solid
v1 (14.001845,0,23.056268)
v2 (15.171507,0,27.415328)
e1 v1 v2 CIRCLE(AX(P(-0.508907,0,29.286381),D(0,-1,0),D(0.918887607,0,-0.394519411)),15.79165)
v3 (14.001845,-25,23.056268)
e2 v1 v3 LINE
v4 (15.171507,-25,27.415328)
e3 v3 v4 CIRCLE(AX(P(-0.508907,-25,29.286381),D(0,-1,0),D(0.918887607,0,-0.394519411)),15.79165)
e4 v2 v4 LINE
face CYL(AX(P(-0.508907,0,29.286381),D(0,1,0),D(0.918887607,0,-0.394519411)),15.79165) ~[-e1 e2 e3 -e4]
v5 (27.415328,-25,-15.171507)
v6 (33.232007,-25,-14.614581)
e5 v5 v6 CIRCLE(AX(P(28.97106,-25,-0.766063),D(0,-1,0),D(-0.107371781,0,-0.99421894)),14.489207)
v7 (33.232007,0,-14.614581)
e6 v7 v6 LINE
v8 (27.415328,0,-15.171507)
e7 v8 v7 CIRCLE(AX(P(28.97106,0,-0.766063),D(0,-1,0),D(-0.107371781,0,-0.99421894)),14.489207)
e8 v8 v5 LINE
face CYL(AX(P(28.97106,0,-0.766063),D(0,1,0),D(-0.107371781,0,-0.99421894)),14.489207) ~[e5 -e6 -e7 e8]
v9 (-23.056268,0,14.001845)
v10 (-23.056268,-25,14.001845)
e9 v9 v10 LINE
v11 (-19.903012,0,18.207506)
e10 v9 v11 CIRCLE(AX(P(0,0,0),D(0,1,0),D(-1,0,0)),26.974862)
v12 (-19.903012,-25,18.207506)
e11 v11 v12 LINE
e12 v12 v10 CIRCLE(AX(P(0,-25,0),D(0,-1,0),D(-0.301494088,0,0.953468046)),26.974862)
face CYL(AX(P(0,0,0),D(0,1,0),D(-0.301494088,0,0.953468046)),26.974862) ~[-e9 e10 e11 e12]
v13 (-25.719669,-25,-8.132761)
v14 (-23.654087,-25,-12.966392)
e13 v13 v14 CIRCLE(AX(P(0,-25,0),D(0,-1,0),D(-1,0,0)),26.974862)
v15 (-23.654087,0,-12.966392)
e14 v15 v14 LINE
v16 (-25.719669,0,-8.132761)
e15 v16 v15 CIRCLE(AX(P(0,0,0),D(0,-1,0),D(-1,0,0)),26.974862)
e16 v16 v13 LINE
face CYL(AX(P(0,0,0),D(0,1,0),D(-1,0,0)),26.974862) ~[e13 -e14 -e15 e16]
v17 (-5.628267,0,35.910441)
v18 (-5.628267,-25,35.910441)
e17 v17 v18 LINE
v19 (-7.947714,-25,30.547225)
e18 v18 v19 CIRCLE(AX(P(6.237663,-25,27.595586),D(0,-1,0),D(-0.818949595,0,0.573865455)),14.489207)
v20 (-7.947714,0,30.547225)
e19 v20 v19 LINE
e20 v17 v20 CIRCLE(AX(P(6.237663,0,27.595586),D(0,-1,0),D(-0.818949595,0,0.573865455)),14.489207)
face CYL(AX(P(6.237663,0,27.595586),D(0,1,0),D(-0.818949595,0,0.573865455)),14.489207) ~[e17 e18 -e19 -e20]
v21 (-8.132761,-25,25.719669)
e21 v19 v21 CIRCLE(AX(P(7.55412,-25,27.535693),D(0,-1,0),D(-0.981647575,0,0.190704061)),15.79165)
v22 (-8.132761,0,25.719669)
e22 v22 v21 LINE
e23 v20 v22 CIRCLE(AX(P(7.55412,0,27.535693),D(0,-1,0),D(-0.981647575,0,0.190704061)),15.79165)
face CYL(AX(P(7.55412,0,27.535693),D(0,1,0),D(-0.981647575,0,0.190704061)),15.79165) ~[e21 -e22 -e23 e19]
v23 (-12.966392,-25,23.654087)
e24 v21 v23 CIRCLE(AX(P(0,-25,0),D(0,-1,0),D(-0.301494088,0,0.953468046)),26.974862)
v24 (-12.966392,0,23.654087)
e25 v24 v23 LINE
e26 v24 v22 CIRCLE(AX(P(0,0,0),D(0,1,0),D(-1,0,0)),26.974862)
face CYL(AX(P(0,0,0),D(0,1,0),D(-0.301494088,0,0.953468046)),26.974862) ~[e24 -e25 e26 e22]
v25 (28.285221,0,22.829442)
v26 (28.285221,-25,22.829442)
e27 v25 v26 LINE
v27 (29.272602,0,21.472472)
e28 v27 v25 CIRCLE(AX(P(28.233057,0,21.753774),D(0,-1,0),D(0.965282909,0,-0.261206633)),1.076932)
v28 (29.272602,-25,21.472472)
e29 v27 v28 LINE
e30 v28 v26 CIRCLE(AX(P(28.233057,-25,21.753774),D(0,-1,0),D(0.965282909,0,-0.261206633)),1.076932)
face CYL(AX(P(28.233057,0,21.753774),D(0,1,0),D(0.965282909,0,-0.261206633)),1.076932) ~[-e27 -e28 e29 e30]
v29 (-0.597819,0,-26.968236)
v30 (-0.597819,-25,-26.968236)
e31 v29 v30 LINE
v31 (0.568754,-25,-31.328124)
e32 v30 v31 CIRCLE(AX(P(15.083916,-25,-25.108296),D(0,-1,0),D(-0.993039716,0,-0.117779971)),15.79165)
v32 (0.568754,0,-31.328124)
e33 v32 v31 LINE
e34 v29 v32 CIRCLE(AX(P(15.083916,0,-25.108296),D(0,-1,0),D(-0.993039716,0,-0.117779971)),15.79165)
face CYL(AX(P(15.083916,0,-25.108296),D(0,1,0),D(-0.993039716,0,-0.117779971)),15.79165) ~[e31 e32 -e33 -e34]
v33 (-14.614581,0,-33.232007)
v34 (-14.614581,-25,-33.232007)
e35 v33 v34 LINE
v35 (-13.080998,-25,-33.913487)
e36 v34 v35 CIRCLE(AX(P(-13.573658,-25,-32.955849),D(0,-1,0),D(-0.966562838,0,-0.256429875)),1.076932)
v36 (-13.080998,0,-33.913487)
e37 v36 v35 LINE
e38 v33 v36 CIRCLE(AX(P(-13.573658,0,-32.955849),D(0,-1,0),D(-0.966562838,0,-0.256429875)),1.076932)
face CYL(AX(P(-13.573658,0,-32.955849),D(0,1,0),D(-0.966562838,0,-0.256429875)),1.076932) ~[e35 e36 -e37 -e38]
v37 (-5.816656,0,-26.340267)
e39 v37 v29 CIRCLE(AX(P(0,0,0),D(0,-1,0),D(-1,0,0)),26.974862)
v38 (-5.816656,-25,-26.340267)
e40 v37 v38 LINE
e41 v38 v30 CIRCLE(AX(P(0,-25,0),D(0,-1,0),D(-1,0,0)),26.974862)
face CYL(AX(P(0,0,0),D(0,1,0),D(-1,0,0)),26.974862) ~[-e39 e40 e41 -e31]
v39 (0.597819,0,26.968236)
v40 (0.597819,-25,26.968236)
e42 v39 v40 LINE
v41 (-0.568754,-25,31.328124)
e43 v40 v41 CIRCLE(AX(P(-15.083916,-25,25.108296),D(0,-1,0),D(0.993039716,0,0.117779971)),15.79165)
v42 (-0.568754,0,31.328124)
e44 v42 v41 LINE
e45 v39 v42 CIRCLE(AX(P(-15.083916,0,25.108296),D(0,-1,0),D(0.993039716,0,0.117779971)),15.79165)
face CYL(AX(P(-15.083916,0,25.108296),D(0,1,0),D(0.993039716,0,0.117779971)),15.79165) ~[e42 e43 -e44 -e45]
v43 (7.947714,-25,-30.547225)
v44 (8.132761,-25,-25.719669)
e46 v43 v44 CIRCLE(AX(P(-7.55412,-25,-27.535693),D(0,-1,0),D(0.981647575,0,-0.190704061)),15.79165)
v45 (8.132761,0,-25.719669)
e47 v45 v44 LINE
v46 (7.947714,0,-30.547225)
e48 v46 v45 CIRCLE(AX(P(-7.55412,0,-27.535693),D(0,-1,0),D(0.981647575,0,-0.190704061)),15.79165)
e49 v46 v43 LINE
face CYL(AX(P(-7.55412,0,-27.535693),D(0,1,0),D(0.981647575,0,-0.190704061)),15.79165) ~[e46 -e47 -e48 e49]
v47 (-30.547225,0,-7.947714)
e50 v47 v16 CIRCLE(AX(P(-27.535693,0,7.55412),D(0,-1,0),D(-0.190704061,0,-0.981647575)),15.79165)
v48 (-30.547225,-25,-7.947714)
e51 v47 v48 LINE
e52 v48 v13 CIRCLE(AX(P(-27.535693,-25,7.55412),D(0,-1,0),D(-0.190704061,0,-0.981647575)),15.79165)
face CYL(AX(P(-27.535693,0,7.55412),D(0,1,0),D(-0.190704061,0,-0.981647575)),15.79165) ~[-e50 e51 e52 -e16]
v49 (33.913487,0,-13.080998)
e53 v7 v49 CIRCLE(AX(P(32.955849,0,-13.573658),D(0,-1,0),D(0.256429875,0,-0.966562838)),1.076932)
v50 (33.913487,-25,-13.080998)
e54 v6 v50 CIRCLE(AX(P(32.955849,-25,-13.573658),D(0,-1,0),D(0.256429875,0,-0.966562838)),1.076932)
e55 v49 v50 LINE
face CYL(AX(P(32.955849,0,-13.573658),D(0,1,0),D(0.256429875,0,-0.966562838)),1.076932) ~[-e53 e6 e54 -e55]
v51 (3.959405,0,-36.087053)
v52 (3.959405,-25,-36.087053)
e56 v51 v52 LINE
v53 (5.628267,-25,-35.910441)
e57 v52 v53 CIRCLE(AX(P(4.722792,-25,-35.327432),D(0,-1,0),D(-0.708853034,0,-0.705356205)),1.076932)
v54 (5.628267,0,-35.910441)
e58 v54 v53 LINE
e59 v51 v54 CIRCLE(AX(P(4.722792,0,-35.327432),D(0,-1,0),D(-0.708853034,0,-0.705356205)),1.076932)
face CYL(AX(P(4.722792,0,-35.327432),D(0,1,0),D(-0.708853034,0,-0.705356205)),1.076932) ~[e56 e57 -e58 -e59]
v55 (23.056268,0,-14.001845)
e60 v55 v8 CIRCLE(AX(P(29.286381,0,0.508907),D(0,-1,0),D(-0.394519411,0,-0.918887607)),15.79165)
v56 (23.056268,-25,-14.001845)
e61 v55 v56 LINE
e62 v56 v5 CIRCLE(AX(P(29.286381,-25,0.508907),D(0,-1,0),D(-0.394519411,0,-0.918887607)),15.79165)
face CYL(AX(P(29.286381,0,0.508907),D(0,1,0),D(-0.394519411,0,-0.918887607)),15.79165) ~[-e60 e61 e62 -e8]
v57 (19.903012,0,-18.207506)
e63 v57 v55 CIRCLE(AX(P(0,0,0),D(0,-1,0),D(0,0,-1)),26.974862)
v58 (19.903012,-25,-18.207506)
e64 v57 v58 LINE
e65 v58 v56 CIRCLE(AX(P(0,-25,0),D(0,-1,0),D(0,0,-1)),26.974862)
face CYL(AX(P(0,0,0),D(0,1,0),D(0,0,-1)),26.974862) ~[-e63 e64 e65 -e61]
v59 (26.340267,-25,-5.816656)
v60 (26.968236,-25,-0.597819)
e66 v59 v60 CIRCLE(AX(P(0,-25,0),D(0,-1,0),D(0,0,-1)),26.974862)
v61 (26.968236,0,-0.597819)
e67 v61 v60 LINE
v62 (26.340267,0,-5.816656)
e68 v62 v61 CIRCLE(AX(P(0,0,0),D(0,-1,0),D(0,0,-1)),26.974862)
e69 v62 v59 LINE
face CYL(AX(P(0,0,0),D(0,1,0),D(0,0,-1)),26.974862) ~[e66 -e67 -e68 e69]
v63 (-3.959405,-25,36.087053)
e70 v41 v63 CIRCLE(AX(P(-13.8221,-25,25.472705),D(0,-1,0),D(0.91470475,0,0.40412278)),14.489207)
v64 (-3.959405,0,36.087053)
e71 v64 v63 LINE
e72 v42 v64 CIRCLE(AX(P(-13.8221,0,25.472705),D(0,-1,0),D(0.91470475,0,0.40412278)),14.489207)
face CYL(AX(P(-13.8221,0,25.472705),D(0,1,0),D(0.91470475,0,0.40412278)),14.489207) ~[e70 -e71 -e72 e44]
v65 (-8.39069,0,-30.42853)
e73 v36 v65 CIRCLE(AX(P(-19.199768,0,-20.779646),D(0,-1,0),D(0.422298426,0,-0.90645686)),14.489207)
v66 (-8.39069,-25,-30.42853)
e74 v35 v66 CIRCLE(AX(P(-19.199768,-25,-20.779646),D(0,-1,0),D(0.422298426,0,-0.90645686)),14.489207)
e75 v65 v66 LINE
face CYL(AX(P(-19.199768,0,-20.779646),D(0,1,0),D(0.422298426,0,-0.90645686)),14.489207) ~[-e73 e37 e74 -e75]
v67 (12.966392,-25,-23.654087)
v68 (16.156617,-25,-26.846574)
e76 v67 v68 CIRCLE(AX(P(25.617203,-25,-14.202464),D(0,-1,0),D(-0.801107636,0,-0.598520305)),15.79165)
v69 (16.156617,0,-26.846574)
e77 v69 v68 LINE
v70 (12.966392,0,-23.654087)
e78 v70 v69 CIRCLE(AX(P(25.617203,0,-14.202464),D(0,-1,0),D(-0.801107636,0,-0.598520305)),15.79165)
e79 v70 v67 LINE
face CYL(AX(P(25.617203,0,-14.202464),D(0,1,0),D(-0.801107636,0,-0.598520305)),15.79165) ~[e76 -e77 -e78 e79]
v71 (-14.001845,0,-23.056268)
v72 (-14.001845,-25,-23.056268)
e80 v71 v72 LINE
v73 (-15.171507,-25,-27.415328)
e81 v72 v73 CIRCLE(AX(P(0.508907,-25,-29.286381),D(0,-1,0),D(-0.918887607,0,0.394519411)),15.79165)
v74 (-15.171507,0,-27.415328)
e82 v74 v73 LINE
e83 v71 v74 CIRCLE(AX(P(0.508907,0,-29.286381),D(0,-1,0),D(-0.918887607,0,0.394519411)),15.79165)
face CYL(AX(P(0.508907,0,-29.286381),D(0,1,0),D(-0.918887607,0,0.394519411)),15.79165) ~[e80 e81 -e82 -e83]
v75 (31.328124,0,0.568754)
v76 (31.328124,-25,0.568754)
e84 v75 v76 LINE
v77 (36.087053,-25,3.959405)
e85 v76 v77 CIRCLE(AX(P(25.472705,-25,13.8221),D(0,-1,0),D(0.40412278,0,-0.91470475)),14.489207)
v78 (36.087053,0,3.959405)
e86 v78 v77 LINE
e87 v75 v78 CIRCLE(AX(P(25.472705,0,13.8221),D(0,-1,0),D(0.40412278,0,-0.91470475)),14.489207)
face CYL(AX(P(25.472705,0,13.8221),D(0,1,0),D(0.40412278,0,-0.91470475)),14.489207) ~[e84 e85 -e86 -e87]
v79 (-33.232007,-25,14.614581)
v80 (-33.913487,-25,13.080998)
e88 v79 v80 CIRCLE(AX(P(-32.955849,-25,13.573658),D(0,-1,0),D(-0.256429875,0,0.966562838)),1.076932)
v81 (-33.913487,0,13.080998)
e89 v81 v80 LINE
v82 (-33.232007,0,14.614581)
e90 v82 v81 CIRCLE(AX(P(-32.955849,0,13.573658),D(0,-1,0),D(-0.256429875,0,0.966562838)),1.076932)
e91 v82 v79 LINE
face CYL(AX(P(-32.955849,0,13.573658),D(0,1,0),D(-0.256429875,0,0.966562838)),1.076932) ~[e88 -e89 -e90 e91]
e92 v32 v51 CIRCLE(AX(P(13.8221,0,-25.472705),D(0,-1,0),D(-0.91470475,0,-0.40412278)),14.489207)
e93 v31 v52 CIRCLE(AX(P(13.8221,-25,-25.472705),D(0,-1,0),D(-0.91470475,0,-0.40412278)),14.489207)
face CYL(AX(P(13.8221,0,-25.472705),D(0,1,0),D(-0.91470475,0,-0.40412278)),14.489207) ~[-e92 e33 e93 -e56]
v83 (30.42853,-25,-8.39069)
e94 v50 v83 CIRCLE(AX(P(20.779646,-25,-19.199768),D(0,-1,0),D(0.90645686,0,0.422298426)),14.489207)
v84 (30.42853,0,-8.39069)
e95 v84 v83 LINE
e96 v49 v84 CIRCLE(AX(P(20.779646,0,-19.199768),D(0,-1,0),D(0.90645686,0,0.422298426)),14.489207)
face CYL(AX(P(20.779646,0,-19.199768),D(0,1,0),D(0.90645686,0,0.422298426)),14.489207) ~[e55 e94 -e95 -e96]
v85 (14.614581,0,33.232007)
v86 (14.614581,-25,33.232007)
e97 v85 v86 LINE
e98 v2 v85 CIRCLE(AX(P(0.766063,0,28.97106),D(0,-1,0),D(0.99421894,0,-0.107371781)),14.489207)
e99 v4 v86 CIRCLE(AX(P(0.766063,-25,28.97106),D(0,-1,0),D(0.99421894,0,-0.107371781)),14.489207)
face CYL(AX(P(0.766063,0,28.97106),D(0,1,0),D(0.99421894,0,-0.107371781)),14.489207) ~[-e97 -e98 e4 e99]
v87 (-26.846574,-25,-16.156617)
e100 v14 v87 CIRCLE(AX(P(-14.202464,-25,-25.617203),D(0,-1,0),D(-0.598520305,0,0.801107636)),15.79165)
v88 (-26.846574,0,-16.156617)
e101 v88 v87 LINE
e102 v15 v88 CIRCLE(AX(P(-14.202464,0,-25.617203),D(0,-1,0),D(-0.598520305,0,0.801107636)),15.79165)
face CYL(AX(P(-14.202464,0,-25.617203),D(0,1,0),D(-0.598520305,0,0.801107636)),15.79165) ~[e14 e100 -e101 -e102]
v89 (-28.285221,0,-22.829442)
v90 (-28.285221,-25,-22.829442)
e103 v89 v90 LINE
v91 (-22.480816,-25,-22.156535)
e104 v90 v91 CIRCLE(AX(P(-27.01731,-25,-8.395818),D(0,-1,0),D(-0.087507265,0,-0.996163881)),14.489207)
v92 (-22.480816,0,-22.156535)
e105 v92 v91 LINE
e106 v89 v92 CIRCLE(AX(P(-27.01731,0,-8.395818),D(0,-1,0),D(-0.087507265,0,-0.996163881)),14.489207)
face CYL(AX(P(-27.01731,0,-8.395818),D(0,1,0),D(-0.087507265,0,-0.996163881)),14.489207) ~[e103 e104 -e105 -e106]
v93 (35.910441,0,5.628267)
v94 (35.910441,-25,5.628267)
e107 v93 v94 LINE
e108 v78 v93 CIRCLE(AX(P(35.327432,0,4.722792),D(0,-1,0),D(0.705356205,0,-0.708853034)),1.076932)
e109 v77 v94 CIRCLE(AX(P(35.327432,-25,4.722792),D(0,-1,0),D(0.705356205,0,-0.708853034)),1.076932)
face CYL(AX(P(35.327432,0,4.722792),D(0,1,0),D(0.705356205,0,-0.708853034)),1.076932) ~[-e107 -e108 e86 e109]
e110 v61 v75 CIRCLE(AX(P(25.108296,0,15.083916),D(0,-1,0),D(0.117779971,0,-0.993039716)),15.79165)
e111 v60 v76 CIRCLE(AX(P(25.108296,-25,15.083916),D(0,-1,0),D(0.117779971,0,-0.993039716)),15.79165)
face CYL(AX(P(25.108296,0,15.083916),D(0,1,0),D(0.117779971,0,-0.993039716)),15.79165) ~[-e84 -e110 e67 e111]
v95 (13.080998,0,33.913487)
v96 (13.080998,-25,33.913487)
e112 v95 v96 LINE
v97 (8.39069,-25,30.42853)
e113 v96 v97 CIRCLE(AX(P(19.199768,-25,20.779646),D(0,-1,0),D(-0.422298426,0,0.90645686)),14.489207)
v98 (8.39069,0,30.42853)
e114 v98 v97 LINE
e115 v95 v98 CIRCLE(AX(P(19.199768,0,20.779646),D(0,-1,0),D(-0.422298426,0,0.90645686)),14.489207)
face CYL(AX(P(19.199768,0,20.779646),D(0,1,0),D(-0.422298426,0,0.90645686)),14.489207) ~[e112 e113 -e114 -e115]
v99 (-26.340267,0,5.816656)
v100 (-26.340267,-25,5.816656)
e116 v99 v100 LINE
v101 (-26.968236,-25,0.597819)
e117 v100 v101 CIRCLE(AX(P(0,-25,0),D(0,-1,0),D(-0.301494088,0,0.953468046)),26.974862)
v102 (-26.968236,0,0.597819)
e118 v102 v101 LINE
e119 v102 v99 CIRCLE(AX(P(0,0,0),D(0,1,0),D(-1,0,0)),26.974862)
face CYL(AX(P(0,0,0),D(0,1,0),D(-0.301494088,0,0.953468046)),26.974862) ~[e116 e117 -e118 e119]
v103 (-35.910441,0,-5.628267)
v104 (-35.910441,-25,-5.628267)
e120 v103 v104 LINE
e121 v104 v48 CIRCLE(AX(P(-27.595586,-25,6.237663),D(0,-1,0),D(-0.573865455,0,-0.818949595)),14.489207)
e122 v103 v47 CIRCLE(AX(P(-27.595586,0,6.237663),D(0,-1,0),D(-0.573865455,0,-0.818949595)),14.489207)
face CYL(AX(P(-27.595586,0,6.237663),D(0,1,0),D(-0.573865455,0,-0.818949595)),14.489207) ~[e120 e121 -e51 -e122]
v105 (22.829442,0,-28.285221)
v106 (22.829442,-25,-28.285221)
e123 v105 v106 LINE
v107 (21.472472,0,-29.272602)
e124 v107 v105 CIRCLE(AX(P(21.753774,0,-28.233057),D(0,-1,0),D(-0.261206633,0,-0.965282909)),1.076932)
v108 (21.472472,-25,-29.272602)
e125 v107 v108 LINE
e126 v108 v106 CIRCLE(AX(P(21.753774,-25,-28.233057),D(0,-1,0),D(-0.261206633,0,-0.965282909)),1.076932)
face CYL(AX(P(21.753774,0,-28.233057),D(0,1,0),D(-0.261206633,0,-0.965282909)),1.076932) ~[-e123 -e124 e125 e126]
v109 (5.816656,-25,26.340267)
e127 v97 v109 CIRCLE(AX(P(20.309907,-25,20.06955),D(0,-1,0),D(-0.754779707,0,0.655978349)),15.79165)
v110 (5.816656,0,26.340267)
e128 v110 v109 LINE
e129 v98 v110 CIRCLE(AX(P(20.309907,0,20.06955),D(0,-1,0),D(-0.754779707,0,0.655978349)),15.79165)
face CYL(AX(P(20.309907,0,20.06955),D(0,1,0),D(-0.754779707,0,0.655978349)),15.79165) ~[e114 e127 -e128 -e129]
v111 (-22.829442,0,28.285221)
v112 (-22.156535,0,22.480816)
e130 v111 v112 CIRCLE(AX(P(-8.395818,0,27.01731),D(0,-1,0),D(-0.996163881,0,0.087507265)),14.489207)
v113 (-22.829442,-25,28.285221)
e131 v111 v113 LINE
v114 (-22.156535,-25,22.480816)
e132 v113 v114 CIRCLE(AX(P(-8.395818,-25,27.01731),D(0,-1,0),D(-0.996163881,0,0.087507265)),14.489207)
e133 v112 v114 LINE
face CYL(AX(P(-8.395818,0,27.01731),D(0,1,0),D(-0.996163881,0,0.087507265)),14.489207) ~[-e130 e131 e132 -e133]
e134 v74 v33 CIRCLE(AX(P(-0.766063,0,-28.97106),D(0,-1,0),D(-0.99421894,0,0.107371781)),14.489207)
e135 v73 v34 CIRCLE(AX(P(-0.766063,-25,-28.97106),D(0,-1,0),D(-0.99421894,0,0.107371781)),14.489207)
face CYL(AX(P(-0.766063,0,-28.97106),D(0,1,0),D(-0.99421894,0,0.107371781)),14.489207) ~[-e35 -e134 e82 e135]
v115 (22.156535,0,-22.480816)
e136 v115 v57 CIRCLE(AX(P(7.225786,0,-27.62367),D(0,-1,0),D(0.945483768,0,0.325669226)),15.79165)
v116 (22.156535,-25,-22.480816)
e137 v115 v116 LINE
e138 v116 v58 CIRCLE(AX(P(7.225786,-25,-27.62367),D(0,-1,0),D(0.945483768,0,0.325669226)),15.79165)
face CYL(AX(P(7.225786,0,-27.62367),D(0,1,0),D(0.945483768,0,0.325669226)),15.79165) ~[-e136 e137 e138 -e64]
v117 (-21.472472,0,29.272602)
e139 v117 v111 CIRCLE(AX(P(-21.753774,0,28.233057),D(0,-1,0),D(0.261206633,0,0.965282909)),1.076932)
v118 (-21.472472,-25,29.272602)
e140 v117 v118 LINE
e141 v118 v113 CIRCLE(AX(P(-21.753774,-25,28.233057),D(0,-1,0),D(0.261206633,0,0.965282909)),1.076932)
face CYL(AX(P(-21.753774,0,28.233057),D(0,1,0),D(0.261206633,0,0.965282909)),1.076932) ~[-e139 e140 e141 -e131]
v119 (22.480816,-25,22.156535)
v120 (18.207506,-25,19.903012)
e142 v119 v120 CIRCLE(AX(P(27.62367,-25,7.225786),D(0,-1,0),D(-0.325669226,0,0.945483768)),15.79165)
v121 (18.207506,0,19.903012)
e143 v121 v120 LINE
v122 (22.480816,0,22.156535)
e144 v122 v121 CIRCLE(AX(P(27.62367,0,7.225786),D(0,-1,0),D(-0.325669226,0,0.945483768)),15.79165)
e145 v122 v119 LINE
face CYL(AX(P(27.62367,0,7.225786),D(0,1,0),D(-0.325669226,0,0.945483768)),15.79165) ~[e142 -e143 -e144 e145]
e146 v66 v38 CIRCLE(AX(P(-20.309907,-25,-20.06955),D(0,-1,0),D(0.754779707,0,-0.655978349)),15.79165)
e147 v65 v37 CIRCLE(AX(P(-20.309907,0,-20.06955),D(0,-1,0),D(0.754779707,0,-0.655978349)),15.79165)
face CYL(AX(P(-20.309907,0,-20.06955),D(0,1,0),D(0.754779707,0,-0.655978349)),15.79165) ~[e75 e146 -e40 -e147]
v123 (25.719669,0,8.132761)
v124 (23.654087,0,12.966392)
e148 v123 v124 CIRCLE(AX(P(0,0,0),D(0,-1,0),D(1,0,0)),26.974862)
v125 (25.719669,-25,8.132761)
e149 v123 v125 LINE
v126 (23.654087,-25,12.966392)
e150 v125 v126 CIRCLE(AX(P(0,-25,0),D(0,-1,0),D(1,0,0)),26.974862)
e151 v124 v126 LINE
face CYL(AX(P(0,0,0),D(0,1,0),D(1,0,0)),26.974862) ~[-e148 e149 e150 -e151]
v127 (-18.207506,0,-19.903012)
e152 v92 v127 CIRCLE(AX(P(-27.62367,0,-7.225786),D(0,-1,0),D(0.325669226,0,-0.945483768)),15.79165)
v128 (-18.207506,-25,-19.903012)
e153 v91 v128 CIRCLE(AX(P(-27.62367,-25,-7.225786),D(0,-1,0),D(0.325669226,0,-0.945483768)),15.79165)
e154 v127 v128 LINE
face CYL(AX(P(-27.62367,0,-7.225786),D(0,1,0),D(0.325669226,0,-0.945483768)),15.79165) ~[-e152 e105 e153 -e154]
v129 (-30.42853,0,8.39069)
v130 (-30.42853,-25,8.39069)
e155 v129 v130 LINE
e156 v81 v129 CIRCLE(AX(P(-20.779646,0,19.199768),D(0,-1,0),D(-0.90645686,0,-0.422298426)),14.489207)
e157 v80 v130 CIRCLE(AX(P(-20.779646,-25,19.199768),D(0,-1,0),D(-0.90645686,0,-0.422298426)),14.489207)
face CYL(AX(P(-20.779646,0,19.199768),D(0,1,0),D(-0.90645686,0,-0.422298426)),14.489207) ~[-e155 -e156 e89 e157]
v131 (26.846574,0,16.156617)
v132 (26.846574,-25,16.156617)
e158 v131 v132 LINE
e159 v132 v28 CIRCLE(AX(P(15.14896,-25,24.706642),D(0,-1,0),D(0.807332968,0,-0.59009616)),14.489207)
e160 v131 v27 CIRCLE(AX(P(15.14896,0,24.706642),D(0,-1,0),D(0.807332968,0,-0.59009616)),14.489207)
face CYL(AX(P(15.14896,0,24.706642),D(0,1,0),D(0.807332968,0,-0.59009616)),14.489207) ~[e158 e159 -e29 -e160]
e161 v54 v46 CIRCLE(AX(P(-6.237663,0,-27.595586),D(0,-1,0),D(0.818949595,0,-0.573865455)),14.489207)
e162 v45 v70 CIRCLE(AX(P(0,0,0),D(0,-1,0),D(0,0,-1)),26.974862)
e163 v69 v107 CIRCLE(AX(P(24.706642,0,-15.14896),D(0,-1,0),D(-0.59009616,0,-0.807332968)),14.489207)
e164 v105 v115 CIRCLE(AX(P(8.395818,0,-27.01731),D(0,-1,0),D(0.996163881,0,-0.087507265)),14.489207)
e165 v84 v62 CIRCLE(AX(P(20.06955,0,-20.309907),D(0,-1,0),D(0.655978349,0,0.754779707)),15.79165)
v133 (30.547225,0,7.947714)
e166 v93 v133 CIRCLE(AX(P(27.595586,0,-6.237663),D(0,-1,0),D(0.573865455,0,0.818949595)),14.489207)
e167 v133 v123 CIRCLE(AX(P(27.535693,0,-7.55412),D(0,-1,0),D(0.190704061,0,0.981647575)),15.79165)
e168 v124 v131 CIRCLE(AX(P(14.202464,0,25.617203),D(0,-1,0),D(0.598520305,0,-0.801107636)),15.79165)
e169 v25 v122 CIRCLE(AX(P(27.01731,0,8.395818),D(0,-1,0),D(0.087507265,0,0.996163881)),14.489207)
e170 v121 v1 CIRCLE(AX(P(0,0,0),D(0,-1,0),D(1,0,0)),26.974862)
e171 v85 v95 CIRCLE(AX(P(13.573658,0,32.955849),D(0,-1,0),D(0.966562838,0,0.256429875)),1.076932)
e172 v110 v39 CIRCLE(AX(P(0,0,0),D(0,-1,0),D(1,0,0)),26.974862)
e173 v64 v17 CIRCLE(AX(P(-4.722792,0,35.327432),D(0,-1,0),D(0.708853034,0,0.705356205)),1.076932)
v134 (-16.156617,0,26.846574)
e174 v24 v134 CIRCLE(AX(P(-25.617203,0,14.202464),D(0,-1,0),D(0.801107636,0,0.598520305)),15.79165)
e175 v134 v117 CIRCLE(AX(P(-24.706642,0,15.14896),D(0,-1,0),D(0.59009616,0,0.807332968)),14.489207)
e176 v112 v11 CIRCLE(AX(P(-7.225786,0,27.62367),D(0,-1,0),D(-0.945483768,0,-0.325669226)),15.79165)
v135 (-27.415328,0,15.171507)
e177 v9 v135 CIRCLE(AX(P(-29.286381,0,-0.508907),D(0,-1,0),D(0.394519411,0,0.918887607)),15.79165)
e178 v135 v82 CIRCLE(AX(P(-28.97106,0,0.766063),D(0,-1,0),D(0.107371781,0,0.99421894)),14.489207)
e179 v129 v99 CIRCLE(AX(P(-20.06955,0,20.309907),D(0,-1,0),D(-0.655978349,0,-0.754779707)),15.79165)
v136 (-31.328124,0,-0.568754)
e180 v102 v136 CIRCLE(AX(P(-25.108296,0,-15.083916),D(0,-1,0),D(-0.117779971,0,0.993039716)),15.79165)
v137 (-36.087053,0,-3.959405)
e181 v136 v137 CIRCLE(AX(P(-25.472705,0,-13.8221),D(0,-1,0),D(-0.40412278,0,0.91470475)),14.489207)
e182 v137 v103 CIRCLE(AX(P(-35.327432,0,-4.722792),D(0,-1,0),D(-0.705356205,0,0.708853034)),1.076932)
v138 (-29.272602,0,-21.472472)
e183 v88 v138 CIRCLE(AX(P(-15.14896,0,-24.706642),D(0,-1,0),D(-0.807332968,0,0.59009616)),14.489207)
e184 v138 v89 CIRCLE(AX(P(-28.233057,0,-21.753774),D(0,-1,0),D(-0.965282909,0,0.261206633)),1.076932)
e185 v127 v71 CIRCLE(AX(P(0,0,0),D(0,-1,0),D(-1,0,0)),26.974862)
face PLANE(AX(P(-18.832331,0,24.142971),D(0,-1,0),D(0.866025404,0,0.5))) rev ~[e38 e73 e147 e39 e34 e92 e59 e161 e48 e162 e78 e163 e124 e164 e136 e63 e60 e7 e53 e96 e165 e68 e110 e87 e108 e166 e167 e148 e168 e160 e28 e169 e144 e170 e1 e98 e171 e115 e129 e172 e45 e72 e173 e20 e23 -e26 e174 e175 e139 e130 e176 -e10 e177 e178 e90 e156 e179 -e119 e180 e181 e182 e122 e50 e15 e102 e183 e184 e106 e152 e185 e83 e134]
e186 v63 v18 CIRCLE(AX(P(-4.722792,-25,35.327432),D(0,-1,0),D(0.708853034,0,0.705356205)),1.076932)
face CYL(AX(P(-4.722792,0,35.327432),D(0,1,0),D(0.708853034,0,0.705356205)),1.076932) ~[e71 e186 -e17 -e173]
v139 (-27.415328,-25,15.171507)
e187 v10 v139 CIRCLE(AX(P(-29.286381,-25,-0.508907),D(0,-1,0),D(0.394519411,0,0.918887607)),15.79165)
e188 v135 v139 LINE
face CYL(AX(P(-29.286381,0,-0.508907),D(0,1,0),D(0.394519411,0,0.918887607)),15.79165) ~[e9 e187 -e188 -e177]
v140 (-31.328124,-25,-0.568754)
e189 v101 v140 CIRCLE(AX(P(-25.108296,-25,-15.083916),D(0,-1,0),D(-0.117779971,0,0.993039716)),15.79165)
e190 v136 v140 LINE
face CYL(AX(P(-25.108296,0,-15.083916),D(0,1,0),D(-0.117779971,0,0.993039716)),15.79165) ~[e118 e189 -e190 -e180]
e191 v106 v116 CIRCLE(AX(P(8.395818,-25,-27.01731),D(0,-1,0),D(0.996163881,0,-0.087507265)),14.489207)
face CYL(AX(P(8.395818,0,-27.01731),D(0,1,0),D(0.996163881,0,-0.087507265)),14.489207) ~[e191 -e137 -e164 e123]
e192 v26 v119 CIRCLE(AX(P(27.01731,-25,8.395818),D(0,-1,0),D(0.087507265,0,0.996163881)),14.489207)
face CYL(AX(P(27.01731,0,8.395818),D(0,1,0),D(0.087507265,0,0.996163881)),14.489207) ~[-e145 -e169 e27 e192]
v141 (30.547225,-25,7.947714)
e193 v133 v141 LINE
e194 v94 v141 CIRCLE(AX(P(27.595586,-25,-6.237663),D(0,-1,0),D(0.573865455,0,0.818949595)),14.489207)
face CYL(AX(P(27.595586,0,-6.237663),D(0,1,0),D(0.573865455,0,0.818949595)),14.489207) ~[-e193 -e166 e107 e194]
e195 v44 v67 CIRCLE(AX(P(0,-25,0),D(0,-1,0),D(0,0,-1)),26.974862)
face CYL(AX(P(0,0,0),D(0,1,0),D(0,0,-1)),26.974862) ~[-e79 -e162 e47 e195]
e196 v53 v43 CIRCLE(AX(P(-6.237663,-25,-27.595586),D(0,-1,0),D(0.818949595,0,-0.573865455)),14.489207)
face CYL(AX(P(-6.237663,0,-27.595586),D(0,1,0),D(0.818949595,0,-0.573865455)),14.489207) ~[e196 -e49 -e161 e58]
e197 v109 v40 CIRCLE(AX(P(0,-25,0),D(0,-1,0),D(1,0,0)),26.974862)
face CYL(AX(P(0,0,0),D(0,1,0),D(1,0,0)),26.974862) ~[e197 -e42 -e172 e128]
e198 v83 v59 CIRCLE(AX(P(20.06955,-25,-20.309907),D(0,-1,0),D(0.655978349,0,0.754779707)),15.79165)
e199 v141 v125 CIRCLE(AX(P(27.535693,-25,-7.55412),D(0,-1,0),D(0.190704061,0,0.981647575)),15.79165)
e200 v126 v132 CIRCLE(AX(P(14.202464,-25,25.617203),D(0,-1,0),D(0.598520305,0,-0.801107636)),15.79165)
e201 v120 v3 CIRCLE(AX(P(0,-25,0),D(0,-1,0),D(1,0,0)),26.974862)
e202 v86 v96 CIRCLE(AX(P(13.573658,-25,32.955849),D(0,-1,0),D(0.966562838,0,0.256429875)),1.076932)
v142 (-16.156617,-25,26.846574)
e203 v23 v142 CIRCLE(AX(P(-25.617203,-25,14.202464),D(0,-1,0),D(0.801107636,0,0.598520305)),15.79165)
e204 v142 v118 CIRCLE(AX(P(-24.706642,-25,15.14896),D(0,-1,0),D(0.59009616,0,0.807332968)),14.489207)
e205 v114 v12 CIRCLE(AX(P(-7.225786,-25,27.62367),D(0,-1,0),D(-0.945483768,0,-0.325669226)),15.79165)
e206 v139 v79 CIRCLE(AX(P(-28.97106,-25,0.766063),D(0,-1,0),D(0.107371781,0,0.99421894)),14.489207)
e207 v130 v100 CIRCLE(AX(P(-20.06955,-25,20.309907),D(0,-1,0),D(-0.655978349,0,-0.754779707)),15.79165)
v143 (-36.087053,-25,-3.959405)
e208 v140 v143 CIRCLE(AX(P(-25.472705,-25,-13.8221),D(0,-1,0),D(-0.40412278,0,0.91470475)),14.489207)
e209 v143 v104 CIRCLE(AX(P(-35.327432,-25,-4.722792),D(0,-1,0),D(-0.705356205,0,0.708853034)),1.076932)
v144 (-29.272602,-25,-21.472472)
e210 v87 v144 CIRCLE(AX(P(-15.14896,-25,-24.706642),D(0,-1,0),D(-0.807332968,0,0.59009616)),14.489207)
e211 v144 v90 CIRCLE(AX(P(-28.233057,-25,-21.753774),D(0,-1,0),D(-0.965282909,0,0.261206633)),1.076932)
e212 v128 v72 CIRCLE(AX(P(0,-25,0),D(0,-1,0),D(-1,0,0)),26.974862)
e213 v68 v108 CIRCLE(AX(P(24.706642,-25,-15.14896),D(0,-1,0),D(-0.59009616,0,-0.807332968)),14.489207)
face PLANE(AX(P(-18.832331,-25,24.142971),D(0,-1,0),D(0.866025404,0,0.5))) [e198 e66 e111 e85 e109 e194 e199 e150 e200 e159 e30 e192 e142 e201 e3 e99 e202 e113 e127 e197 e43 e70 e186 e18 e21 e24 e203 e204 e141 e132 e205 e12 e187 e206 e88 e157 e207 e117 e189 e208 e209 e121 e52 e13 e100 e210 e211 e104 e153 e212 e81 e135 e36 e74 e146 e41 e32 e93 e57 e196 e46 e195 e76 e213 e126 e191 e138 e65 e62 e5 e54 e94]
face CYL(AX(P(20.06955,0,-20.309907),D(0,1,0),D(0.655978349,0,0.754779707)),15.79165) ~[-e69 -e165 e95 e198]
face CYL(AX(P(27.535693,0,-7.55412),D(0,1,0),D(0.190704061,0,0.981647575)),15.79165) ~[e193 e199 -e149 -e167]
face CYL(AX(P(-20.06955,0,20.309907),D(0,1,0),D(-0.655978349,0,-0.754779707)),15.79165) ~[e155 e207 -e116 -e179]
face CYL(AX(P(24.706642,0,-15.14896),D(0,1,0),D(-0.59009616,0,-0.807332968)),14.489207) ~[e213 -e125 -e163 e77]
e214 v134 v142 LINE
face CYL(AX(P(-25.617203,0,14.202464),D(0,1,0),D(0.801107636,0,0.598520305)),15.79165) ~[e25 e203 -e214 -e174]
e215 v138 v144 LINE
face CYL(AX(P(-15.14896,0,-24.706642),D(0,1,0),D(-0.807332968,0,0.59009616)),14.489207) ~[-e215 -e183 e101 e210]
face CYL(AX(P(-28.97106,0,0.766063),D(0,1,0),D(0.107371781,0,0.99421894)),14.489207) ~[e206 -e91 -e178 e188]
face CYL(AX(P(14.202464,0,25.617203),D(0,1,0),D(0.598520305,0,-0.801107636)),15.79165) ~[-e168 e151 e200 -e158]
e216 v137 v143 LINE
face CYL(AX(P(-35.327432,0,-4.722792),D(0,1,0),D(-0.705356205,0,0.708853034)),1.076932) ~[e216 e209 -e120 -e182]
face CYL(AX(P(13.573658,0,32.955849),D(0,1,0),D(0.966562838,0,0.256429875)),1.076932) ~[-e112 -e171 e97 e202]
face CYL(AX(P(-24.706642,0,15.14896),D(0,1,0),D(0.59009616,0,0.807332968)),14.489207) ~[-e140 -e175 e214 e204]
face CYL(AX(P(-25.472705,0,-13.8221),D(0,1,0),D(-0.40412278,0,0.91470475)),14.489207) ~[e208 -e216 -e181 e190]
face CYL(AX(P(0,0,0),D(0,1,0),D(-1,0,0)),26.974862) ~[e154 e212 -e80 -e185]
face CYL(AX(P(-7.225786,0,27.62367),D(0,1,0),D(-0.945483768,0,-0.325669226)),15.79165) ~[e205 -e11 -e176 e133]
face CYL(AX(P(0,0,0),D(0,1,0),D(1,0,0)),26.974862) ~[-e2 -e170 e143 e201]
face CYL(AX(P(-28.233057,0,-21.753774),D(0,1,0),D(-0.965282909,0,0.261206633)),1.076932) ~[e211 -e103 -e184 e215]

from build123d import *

# Parameters (mm, degrees)
F1_DEPTH = 25
F2_COUNT = 12


with BuildPart() as f1:
    # F0 (on Front) → F1 (new body)
    with BuildSketch(Plane.XZ):
        with BuildLine():
            ThreePointArc((-7.9477143302, 30.5472248468), (-8.2259408607, 28.1405650395), (-8.1327613443, 25.7196687162))
            ThreePointArc((-8.1327613443, 25.7196687162), (-3.8188440215, 26.7031757717), (0.5978189292, 26.9682364733))
            ThreePointArc((0.5978189292, 26.9682364733), (0.1710931502, 29.1900709912), (-0.5687537498, 31.3281238622))
            ThreePointArc((-0.5687537498, 31.3281238622), (-2.0216895742, 33.8802868431), (-3.9594054698, 36.087052689))
            ThreePointArc((-3.9594054698, 36.087052689), (-4.8361287947, 36.3983837804), (-5.6282667199, 35.9104408081))
            ThreePointArc((-5.6282667199, 35.9104408081), (-7.0611591635, 33.3469709651), (-7.9477143302, 30.5472248468))
        make_face()
        with BuildLine():
            ThreePointArc((0.5978189292, 26.9682364733), (-3.8188440215, 26.7031757717), (-8.1327613443, 25.7196687162))
            ThreePointArc((-8.1327613443, 25.7196687162), (-15.9415032716, -21.760322594), (26.9748617412, 0))
            ThreePointArc((26.9748617412, 0), (19.2843103184, 18.8615625412), (0.5978189292, 26.9682364733))
        make_face()
    extrude(amount=F1_DEPTH)

    # F2: F1 ×12 about axis
    f2_axis = Axis((0, 0, 0), (0, 1, 0))


with BuildPart() as f1_1:
    add(f1.part)
    for i in range(1, F2_COUNT):
        add(f1.part.rotate(f2_axis, i * 360 / F2_COUNT))


solid = f1_1.part
